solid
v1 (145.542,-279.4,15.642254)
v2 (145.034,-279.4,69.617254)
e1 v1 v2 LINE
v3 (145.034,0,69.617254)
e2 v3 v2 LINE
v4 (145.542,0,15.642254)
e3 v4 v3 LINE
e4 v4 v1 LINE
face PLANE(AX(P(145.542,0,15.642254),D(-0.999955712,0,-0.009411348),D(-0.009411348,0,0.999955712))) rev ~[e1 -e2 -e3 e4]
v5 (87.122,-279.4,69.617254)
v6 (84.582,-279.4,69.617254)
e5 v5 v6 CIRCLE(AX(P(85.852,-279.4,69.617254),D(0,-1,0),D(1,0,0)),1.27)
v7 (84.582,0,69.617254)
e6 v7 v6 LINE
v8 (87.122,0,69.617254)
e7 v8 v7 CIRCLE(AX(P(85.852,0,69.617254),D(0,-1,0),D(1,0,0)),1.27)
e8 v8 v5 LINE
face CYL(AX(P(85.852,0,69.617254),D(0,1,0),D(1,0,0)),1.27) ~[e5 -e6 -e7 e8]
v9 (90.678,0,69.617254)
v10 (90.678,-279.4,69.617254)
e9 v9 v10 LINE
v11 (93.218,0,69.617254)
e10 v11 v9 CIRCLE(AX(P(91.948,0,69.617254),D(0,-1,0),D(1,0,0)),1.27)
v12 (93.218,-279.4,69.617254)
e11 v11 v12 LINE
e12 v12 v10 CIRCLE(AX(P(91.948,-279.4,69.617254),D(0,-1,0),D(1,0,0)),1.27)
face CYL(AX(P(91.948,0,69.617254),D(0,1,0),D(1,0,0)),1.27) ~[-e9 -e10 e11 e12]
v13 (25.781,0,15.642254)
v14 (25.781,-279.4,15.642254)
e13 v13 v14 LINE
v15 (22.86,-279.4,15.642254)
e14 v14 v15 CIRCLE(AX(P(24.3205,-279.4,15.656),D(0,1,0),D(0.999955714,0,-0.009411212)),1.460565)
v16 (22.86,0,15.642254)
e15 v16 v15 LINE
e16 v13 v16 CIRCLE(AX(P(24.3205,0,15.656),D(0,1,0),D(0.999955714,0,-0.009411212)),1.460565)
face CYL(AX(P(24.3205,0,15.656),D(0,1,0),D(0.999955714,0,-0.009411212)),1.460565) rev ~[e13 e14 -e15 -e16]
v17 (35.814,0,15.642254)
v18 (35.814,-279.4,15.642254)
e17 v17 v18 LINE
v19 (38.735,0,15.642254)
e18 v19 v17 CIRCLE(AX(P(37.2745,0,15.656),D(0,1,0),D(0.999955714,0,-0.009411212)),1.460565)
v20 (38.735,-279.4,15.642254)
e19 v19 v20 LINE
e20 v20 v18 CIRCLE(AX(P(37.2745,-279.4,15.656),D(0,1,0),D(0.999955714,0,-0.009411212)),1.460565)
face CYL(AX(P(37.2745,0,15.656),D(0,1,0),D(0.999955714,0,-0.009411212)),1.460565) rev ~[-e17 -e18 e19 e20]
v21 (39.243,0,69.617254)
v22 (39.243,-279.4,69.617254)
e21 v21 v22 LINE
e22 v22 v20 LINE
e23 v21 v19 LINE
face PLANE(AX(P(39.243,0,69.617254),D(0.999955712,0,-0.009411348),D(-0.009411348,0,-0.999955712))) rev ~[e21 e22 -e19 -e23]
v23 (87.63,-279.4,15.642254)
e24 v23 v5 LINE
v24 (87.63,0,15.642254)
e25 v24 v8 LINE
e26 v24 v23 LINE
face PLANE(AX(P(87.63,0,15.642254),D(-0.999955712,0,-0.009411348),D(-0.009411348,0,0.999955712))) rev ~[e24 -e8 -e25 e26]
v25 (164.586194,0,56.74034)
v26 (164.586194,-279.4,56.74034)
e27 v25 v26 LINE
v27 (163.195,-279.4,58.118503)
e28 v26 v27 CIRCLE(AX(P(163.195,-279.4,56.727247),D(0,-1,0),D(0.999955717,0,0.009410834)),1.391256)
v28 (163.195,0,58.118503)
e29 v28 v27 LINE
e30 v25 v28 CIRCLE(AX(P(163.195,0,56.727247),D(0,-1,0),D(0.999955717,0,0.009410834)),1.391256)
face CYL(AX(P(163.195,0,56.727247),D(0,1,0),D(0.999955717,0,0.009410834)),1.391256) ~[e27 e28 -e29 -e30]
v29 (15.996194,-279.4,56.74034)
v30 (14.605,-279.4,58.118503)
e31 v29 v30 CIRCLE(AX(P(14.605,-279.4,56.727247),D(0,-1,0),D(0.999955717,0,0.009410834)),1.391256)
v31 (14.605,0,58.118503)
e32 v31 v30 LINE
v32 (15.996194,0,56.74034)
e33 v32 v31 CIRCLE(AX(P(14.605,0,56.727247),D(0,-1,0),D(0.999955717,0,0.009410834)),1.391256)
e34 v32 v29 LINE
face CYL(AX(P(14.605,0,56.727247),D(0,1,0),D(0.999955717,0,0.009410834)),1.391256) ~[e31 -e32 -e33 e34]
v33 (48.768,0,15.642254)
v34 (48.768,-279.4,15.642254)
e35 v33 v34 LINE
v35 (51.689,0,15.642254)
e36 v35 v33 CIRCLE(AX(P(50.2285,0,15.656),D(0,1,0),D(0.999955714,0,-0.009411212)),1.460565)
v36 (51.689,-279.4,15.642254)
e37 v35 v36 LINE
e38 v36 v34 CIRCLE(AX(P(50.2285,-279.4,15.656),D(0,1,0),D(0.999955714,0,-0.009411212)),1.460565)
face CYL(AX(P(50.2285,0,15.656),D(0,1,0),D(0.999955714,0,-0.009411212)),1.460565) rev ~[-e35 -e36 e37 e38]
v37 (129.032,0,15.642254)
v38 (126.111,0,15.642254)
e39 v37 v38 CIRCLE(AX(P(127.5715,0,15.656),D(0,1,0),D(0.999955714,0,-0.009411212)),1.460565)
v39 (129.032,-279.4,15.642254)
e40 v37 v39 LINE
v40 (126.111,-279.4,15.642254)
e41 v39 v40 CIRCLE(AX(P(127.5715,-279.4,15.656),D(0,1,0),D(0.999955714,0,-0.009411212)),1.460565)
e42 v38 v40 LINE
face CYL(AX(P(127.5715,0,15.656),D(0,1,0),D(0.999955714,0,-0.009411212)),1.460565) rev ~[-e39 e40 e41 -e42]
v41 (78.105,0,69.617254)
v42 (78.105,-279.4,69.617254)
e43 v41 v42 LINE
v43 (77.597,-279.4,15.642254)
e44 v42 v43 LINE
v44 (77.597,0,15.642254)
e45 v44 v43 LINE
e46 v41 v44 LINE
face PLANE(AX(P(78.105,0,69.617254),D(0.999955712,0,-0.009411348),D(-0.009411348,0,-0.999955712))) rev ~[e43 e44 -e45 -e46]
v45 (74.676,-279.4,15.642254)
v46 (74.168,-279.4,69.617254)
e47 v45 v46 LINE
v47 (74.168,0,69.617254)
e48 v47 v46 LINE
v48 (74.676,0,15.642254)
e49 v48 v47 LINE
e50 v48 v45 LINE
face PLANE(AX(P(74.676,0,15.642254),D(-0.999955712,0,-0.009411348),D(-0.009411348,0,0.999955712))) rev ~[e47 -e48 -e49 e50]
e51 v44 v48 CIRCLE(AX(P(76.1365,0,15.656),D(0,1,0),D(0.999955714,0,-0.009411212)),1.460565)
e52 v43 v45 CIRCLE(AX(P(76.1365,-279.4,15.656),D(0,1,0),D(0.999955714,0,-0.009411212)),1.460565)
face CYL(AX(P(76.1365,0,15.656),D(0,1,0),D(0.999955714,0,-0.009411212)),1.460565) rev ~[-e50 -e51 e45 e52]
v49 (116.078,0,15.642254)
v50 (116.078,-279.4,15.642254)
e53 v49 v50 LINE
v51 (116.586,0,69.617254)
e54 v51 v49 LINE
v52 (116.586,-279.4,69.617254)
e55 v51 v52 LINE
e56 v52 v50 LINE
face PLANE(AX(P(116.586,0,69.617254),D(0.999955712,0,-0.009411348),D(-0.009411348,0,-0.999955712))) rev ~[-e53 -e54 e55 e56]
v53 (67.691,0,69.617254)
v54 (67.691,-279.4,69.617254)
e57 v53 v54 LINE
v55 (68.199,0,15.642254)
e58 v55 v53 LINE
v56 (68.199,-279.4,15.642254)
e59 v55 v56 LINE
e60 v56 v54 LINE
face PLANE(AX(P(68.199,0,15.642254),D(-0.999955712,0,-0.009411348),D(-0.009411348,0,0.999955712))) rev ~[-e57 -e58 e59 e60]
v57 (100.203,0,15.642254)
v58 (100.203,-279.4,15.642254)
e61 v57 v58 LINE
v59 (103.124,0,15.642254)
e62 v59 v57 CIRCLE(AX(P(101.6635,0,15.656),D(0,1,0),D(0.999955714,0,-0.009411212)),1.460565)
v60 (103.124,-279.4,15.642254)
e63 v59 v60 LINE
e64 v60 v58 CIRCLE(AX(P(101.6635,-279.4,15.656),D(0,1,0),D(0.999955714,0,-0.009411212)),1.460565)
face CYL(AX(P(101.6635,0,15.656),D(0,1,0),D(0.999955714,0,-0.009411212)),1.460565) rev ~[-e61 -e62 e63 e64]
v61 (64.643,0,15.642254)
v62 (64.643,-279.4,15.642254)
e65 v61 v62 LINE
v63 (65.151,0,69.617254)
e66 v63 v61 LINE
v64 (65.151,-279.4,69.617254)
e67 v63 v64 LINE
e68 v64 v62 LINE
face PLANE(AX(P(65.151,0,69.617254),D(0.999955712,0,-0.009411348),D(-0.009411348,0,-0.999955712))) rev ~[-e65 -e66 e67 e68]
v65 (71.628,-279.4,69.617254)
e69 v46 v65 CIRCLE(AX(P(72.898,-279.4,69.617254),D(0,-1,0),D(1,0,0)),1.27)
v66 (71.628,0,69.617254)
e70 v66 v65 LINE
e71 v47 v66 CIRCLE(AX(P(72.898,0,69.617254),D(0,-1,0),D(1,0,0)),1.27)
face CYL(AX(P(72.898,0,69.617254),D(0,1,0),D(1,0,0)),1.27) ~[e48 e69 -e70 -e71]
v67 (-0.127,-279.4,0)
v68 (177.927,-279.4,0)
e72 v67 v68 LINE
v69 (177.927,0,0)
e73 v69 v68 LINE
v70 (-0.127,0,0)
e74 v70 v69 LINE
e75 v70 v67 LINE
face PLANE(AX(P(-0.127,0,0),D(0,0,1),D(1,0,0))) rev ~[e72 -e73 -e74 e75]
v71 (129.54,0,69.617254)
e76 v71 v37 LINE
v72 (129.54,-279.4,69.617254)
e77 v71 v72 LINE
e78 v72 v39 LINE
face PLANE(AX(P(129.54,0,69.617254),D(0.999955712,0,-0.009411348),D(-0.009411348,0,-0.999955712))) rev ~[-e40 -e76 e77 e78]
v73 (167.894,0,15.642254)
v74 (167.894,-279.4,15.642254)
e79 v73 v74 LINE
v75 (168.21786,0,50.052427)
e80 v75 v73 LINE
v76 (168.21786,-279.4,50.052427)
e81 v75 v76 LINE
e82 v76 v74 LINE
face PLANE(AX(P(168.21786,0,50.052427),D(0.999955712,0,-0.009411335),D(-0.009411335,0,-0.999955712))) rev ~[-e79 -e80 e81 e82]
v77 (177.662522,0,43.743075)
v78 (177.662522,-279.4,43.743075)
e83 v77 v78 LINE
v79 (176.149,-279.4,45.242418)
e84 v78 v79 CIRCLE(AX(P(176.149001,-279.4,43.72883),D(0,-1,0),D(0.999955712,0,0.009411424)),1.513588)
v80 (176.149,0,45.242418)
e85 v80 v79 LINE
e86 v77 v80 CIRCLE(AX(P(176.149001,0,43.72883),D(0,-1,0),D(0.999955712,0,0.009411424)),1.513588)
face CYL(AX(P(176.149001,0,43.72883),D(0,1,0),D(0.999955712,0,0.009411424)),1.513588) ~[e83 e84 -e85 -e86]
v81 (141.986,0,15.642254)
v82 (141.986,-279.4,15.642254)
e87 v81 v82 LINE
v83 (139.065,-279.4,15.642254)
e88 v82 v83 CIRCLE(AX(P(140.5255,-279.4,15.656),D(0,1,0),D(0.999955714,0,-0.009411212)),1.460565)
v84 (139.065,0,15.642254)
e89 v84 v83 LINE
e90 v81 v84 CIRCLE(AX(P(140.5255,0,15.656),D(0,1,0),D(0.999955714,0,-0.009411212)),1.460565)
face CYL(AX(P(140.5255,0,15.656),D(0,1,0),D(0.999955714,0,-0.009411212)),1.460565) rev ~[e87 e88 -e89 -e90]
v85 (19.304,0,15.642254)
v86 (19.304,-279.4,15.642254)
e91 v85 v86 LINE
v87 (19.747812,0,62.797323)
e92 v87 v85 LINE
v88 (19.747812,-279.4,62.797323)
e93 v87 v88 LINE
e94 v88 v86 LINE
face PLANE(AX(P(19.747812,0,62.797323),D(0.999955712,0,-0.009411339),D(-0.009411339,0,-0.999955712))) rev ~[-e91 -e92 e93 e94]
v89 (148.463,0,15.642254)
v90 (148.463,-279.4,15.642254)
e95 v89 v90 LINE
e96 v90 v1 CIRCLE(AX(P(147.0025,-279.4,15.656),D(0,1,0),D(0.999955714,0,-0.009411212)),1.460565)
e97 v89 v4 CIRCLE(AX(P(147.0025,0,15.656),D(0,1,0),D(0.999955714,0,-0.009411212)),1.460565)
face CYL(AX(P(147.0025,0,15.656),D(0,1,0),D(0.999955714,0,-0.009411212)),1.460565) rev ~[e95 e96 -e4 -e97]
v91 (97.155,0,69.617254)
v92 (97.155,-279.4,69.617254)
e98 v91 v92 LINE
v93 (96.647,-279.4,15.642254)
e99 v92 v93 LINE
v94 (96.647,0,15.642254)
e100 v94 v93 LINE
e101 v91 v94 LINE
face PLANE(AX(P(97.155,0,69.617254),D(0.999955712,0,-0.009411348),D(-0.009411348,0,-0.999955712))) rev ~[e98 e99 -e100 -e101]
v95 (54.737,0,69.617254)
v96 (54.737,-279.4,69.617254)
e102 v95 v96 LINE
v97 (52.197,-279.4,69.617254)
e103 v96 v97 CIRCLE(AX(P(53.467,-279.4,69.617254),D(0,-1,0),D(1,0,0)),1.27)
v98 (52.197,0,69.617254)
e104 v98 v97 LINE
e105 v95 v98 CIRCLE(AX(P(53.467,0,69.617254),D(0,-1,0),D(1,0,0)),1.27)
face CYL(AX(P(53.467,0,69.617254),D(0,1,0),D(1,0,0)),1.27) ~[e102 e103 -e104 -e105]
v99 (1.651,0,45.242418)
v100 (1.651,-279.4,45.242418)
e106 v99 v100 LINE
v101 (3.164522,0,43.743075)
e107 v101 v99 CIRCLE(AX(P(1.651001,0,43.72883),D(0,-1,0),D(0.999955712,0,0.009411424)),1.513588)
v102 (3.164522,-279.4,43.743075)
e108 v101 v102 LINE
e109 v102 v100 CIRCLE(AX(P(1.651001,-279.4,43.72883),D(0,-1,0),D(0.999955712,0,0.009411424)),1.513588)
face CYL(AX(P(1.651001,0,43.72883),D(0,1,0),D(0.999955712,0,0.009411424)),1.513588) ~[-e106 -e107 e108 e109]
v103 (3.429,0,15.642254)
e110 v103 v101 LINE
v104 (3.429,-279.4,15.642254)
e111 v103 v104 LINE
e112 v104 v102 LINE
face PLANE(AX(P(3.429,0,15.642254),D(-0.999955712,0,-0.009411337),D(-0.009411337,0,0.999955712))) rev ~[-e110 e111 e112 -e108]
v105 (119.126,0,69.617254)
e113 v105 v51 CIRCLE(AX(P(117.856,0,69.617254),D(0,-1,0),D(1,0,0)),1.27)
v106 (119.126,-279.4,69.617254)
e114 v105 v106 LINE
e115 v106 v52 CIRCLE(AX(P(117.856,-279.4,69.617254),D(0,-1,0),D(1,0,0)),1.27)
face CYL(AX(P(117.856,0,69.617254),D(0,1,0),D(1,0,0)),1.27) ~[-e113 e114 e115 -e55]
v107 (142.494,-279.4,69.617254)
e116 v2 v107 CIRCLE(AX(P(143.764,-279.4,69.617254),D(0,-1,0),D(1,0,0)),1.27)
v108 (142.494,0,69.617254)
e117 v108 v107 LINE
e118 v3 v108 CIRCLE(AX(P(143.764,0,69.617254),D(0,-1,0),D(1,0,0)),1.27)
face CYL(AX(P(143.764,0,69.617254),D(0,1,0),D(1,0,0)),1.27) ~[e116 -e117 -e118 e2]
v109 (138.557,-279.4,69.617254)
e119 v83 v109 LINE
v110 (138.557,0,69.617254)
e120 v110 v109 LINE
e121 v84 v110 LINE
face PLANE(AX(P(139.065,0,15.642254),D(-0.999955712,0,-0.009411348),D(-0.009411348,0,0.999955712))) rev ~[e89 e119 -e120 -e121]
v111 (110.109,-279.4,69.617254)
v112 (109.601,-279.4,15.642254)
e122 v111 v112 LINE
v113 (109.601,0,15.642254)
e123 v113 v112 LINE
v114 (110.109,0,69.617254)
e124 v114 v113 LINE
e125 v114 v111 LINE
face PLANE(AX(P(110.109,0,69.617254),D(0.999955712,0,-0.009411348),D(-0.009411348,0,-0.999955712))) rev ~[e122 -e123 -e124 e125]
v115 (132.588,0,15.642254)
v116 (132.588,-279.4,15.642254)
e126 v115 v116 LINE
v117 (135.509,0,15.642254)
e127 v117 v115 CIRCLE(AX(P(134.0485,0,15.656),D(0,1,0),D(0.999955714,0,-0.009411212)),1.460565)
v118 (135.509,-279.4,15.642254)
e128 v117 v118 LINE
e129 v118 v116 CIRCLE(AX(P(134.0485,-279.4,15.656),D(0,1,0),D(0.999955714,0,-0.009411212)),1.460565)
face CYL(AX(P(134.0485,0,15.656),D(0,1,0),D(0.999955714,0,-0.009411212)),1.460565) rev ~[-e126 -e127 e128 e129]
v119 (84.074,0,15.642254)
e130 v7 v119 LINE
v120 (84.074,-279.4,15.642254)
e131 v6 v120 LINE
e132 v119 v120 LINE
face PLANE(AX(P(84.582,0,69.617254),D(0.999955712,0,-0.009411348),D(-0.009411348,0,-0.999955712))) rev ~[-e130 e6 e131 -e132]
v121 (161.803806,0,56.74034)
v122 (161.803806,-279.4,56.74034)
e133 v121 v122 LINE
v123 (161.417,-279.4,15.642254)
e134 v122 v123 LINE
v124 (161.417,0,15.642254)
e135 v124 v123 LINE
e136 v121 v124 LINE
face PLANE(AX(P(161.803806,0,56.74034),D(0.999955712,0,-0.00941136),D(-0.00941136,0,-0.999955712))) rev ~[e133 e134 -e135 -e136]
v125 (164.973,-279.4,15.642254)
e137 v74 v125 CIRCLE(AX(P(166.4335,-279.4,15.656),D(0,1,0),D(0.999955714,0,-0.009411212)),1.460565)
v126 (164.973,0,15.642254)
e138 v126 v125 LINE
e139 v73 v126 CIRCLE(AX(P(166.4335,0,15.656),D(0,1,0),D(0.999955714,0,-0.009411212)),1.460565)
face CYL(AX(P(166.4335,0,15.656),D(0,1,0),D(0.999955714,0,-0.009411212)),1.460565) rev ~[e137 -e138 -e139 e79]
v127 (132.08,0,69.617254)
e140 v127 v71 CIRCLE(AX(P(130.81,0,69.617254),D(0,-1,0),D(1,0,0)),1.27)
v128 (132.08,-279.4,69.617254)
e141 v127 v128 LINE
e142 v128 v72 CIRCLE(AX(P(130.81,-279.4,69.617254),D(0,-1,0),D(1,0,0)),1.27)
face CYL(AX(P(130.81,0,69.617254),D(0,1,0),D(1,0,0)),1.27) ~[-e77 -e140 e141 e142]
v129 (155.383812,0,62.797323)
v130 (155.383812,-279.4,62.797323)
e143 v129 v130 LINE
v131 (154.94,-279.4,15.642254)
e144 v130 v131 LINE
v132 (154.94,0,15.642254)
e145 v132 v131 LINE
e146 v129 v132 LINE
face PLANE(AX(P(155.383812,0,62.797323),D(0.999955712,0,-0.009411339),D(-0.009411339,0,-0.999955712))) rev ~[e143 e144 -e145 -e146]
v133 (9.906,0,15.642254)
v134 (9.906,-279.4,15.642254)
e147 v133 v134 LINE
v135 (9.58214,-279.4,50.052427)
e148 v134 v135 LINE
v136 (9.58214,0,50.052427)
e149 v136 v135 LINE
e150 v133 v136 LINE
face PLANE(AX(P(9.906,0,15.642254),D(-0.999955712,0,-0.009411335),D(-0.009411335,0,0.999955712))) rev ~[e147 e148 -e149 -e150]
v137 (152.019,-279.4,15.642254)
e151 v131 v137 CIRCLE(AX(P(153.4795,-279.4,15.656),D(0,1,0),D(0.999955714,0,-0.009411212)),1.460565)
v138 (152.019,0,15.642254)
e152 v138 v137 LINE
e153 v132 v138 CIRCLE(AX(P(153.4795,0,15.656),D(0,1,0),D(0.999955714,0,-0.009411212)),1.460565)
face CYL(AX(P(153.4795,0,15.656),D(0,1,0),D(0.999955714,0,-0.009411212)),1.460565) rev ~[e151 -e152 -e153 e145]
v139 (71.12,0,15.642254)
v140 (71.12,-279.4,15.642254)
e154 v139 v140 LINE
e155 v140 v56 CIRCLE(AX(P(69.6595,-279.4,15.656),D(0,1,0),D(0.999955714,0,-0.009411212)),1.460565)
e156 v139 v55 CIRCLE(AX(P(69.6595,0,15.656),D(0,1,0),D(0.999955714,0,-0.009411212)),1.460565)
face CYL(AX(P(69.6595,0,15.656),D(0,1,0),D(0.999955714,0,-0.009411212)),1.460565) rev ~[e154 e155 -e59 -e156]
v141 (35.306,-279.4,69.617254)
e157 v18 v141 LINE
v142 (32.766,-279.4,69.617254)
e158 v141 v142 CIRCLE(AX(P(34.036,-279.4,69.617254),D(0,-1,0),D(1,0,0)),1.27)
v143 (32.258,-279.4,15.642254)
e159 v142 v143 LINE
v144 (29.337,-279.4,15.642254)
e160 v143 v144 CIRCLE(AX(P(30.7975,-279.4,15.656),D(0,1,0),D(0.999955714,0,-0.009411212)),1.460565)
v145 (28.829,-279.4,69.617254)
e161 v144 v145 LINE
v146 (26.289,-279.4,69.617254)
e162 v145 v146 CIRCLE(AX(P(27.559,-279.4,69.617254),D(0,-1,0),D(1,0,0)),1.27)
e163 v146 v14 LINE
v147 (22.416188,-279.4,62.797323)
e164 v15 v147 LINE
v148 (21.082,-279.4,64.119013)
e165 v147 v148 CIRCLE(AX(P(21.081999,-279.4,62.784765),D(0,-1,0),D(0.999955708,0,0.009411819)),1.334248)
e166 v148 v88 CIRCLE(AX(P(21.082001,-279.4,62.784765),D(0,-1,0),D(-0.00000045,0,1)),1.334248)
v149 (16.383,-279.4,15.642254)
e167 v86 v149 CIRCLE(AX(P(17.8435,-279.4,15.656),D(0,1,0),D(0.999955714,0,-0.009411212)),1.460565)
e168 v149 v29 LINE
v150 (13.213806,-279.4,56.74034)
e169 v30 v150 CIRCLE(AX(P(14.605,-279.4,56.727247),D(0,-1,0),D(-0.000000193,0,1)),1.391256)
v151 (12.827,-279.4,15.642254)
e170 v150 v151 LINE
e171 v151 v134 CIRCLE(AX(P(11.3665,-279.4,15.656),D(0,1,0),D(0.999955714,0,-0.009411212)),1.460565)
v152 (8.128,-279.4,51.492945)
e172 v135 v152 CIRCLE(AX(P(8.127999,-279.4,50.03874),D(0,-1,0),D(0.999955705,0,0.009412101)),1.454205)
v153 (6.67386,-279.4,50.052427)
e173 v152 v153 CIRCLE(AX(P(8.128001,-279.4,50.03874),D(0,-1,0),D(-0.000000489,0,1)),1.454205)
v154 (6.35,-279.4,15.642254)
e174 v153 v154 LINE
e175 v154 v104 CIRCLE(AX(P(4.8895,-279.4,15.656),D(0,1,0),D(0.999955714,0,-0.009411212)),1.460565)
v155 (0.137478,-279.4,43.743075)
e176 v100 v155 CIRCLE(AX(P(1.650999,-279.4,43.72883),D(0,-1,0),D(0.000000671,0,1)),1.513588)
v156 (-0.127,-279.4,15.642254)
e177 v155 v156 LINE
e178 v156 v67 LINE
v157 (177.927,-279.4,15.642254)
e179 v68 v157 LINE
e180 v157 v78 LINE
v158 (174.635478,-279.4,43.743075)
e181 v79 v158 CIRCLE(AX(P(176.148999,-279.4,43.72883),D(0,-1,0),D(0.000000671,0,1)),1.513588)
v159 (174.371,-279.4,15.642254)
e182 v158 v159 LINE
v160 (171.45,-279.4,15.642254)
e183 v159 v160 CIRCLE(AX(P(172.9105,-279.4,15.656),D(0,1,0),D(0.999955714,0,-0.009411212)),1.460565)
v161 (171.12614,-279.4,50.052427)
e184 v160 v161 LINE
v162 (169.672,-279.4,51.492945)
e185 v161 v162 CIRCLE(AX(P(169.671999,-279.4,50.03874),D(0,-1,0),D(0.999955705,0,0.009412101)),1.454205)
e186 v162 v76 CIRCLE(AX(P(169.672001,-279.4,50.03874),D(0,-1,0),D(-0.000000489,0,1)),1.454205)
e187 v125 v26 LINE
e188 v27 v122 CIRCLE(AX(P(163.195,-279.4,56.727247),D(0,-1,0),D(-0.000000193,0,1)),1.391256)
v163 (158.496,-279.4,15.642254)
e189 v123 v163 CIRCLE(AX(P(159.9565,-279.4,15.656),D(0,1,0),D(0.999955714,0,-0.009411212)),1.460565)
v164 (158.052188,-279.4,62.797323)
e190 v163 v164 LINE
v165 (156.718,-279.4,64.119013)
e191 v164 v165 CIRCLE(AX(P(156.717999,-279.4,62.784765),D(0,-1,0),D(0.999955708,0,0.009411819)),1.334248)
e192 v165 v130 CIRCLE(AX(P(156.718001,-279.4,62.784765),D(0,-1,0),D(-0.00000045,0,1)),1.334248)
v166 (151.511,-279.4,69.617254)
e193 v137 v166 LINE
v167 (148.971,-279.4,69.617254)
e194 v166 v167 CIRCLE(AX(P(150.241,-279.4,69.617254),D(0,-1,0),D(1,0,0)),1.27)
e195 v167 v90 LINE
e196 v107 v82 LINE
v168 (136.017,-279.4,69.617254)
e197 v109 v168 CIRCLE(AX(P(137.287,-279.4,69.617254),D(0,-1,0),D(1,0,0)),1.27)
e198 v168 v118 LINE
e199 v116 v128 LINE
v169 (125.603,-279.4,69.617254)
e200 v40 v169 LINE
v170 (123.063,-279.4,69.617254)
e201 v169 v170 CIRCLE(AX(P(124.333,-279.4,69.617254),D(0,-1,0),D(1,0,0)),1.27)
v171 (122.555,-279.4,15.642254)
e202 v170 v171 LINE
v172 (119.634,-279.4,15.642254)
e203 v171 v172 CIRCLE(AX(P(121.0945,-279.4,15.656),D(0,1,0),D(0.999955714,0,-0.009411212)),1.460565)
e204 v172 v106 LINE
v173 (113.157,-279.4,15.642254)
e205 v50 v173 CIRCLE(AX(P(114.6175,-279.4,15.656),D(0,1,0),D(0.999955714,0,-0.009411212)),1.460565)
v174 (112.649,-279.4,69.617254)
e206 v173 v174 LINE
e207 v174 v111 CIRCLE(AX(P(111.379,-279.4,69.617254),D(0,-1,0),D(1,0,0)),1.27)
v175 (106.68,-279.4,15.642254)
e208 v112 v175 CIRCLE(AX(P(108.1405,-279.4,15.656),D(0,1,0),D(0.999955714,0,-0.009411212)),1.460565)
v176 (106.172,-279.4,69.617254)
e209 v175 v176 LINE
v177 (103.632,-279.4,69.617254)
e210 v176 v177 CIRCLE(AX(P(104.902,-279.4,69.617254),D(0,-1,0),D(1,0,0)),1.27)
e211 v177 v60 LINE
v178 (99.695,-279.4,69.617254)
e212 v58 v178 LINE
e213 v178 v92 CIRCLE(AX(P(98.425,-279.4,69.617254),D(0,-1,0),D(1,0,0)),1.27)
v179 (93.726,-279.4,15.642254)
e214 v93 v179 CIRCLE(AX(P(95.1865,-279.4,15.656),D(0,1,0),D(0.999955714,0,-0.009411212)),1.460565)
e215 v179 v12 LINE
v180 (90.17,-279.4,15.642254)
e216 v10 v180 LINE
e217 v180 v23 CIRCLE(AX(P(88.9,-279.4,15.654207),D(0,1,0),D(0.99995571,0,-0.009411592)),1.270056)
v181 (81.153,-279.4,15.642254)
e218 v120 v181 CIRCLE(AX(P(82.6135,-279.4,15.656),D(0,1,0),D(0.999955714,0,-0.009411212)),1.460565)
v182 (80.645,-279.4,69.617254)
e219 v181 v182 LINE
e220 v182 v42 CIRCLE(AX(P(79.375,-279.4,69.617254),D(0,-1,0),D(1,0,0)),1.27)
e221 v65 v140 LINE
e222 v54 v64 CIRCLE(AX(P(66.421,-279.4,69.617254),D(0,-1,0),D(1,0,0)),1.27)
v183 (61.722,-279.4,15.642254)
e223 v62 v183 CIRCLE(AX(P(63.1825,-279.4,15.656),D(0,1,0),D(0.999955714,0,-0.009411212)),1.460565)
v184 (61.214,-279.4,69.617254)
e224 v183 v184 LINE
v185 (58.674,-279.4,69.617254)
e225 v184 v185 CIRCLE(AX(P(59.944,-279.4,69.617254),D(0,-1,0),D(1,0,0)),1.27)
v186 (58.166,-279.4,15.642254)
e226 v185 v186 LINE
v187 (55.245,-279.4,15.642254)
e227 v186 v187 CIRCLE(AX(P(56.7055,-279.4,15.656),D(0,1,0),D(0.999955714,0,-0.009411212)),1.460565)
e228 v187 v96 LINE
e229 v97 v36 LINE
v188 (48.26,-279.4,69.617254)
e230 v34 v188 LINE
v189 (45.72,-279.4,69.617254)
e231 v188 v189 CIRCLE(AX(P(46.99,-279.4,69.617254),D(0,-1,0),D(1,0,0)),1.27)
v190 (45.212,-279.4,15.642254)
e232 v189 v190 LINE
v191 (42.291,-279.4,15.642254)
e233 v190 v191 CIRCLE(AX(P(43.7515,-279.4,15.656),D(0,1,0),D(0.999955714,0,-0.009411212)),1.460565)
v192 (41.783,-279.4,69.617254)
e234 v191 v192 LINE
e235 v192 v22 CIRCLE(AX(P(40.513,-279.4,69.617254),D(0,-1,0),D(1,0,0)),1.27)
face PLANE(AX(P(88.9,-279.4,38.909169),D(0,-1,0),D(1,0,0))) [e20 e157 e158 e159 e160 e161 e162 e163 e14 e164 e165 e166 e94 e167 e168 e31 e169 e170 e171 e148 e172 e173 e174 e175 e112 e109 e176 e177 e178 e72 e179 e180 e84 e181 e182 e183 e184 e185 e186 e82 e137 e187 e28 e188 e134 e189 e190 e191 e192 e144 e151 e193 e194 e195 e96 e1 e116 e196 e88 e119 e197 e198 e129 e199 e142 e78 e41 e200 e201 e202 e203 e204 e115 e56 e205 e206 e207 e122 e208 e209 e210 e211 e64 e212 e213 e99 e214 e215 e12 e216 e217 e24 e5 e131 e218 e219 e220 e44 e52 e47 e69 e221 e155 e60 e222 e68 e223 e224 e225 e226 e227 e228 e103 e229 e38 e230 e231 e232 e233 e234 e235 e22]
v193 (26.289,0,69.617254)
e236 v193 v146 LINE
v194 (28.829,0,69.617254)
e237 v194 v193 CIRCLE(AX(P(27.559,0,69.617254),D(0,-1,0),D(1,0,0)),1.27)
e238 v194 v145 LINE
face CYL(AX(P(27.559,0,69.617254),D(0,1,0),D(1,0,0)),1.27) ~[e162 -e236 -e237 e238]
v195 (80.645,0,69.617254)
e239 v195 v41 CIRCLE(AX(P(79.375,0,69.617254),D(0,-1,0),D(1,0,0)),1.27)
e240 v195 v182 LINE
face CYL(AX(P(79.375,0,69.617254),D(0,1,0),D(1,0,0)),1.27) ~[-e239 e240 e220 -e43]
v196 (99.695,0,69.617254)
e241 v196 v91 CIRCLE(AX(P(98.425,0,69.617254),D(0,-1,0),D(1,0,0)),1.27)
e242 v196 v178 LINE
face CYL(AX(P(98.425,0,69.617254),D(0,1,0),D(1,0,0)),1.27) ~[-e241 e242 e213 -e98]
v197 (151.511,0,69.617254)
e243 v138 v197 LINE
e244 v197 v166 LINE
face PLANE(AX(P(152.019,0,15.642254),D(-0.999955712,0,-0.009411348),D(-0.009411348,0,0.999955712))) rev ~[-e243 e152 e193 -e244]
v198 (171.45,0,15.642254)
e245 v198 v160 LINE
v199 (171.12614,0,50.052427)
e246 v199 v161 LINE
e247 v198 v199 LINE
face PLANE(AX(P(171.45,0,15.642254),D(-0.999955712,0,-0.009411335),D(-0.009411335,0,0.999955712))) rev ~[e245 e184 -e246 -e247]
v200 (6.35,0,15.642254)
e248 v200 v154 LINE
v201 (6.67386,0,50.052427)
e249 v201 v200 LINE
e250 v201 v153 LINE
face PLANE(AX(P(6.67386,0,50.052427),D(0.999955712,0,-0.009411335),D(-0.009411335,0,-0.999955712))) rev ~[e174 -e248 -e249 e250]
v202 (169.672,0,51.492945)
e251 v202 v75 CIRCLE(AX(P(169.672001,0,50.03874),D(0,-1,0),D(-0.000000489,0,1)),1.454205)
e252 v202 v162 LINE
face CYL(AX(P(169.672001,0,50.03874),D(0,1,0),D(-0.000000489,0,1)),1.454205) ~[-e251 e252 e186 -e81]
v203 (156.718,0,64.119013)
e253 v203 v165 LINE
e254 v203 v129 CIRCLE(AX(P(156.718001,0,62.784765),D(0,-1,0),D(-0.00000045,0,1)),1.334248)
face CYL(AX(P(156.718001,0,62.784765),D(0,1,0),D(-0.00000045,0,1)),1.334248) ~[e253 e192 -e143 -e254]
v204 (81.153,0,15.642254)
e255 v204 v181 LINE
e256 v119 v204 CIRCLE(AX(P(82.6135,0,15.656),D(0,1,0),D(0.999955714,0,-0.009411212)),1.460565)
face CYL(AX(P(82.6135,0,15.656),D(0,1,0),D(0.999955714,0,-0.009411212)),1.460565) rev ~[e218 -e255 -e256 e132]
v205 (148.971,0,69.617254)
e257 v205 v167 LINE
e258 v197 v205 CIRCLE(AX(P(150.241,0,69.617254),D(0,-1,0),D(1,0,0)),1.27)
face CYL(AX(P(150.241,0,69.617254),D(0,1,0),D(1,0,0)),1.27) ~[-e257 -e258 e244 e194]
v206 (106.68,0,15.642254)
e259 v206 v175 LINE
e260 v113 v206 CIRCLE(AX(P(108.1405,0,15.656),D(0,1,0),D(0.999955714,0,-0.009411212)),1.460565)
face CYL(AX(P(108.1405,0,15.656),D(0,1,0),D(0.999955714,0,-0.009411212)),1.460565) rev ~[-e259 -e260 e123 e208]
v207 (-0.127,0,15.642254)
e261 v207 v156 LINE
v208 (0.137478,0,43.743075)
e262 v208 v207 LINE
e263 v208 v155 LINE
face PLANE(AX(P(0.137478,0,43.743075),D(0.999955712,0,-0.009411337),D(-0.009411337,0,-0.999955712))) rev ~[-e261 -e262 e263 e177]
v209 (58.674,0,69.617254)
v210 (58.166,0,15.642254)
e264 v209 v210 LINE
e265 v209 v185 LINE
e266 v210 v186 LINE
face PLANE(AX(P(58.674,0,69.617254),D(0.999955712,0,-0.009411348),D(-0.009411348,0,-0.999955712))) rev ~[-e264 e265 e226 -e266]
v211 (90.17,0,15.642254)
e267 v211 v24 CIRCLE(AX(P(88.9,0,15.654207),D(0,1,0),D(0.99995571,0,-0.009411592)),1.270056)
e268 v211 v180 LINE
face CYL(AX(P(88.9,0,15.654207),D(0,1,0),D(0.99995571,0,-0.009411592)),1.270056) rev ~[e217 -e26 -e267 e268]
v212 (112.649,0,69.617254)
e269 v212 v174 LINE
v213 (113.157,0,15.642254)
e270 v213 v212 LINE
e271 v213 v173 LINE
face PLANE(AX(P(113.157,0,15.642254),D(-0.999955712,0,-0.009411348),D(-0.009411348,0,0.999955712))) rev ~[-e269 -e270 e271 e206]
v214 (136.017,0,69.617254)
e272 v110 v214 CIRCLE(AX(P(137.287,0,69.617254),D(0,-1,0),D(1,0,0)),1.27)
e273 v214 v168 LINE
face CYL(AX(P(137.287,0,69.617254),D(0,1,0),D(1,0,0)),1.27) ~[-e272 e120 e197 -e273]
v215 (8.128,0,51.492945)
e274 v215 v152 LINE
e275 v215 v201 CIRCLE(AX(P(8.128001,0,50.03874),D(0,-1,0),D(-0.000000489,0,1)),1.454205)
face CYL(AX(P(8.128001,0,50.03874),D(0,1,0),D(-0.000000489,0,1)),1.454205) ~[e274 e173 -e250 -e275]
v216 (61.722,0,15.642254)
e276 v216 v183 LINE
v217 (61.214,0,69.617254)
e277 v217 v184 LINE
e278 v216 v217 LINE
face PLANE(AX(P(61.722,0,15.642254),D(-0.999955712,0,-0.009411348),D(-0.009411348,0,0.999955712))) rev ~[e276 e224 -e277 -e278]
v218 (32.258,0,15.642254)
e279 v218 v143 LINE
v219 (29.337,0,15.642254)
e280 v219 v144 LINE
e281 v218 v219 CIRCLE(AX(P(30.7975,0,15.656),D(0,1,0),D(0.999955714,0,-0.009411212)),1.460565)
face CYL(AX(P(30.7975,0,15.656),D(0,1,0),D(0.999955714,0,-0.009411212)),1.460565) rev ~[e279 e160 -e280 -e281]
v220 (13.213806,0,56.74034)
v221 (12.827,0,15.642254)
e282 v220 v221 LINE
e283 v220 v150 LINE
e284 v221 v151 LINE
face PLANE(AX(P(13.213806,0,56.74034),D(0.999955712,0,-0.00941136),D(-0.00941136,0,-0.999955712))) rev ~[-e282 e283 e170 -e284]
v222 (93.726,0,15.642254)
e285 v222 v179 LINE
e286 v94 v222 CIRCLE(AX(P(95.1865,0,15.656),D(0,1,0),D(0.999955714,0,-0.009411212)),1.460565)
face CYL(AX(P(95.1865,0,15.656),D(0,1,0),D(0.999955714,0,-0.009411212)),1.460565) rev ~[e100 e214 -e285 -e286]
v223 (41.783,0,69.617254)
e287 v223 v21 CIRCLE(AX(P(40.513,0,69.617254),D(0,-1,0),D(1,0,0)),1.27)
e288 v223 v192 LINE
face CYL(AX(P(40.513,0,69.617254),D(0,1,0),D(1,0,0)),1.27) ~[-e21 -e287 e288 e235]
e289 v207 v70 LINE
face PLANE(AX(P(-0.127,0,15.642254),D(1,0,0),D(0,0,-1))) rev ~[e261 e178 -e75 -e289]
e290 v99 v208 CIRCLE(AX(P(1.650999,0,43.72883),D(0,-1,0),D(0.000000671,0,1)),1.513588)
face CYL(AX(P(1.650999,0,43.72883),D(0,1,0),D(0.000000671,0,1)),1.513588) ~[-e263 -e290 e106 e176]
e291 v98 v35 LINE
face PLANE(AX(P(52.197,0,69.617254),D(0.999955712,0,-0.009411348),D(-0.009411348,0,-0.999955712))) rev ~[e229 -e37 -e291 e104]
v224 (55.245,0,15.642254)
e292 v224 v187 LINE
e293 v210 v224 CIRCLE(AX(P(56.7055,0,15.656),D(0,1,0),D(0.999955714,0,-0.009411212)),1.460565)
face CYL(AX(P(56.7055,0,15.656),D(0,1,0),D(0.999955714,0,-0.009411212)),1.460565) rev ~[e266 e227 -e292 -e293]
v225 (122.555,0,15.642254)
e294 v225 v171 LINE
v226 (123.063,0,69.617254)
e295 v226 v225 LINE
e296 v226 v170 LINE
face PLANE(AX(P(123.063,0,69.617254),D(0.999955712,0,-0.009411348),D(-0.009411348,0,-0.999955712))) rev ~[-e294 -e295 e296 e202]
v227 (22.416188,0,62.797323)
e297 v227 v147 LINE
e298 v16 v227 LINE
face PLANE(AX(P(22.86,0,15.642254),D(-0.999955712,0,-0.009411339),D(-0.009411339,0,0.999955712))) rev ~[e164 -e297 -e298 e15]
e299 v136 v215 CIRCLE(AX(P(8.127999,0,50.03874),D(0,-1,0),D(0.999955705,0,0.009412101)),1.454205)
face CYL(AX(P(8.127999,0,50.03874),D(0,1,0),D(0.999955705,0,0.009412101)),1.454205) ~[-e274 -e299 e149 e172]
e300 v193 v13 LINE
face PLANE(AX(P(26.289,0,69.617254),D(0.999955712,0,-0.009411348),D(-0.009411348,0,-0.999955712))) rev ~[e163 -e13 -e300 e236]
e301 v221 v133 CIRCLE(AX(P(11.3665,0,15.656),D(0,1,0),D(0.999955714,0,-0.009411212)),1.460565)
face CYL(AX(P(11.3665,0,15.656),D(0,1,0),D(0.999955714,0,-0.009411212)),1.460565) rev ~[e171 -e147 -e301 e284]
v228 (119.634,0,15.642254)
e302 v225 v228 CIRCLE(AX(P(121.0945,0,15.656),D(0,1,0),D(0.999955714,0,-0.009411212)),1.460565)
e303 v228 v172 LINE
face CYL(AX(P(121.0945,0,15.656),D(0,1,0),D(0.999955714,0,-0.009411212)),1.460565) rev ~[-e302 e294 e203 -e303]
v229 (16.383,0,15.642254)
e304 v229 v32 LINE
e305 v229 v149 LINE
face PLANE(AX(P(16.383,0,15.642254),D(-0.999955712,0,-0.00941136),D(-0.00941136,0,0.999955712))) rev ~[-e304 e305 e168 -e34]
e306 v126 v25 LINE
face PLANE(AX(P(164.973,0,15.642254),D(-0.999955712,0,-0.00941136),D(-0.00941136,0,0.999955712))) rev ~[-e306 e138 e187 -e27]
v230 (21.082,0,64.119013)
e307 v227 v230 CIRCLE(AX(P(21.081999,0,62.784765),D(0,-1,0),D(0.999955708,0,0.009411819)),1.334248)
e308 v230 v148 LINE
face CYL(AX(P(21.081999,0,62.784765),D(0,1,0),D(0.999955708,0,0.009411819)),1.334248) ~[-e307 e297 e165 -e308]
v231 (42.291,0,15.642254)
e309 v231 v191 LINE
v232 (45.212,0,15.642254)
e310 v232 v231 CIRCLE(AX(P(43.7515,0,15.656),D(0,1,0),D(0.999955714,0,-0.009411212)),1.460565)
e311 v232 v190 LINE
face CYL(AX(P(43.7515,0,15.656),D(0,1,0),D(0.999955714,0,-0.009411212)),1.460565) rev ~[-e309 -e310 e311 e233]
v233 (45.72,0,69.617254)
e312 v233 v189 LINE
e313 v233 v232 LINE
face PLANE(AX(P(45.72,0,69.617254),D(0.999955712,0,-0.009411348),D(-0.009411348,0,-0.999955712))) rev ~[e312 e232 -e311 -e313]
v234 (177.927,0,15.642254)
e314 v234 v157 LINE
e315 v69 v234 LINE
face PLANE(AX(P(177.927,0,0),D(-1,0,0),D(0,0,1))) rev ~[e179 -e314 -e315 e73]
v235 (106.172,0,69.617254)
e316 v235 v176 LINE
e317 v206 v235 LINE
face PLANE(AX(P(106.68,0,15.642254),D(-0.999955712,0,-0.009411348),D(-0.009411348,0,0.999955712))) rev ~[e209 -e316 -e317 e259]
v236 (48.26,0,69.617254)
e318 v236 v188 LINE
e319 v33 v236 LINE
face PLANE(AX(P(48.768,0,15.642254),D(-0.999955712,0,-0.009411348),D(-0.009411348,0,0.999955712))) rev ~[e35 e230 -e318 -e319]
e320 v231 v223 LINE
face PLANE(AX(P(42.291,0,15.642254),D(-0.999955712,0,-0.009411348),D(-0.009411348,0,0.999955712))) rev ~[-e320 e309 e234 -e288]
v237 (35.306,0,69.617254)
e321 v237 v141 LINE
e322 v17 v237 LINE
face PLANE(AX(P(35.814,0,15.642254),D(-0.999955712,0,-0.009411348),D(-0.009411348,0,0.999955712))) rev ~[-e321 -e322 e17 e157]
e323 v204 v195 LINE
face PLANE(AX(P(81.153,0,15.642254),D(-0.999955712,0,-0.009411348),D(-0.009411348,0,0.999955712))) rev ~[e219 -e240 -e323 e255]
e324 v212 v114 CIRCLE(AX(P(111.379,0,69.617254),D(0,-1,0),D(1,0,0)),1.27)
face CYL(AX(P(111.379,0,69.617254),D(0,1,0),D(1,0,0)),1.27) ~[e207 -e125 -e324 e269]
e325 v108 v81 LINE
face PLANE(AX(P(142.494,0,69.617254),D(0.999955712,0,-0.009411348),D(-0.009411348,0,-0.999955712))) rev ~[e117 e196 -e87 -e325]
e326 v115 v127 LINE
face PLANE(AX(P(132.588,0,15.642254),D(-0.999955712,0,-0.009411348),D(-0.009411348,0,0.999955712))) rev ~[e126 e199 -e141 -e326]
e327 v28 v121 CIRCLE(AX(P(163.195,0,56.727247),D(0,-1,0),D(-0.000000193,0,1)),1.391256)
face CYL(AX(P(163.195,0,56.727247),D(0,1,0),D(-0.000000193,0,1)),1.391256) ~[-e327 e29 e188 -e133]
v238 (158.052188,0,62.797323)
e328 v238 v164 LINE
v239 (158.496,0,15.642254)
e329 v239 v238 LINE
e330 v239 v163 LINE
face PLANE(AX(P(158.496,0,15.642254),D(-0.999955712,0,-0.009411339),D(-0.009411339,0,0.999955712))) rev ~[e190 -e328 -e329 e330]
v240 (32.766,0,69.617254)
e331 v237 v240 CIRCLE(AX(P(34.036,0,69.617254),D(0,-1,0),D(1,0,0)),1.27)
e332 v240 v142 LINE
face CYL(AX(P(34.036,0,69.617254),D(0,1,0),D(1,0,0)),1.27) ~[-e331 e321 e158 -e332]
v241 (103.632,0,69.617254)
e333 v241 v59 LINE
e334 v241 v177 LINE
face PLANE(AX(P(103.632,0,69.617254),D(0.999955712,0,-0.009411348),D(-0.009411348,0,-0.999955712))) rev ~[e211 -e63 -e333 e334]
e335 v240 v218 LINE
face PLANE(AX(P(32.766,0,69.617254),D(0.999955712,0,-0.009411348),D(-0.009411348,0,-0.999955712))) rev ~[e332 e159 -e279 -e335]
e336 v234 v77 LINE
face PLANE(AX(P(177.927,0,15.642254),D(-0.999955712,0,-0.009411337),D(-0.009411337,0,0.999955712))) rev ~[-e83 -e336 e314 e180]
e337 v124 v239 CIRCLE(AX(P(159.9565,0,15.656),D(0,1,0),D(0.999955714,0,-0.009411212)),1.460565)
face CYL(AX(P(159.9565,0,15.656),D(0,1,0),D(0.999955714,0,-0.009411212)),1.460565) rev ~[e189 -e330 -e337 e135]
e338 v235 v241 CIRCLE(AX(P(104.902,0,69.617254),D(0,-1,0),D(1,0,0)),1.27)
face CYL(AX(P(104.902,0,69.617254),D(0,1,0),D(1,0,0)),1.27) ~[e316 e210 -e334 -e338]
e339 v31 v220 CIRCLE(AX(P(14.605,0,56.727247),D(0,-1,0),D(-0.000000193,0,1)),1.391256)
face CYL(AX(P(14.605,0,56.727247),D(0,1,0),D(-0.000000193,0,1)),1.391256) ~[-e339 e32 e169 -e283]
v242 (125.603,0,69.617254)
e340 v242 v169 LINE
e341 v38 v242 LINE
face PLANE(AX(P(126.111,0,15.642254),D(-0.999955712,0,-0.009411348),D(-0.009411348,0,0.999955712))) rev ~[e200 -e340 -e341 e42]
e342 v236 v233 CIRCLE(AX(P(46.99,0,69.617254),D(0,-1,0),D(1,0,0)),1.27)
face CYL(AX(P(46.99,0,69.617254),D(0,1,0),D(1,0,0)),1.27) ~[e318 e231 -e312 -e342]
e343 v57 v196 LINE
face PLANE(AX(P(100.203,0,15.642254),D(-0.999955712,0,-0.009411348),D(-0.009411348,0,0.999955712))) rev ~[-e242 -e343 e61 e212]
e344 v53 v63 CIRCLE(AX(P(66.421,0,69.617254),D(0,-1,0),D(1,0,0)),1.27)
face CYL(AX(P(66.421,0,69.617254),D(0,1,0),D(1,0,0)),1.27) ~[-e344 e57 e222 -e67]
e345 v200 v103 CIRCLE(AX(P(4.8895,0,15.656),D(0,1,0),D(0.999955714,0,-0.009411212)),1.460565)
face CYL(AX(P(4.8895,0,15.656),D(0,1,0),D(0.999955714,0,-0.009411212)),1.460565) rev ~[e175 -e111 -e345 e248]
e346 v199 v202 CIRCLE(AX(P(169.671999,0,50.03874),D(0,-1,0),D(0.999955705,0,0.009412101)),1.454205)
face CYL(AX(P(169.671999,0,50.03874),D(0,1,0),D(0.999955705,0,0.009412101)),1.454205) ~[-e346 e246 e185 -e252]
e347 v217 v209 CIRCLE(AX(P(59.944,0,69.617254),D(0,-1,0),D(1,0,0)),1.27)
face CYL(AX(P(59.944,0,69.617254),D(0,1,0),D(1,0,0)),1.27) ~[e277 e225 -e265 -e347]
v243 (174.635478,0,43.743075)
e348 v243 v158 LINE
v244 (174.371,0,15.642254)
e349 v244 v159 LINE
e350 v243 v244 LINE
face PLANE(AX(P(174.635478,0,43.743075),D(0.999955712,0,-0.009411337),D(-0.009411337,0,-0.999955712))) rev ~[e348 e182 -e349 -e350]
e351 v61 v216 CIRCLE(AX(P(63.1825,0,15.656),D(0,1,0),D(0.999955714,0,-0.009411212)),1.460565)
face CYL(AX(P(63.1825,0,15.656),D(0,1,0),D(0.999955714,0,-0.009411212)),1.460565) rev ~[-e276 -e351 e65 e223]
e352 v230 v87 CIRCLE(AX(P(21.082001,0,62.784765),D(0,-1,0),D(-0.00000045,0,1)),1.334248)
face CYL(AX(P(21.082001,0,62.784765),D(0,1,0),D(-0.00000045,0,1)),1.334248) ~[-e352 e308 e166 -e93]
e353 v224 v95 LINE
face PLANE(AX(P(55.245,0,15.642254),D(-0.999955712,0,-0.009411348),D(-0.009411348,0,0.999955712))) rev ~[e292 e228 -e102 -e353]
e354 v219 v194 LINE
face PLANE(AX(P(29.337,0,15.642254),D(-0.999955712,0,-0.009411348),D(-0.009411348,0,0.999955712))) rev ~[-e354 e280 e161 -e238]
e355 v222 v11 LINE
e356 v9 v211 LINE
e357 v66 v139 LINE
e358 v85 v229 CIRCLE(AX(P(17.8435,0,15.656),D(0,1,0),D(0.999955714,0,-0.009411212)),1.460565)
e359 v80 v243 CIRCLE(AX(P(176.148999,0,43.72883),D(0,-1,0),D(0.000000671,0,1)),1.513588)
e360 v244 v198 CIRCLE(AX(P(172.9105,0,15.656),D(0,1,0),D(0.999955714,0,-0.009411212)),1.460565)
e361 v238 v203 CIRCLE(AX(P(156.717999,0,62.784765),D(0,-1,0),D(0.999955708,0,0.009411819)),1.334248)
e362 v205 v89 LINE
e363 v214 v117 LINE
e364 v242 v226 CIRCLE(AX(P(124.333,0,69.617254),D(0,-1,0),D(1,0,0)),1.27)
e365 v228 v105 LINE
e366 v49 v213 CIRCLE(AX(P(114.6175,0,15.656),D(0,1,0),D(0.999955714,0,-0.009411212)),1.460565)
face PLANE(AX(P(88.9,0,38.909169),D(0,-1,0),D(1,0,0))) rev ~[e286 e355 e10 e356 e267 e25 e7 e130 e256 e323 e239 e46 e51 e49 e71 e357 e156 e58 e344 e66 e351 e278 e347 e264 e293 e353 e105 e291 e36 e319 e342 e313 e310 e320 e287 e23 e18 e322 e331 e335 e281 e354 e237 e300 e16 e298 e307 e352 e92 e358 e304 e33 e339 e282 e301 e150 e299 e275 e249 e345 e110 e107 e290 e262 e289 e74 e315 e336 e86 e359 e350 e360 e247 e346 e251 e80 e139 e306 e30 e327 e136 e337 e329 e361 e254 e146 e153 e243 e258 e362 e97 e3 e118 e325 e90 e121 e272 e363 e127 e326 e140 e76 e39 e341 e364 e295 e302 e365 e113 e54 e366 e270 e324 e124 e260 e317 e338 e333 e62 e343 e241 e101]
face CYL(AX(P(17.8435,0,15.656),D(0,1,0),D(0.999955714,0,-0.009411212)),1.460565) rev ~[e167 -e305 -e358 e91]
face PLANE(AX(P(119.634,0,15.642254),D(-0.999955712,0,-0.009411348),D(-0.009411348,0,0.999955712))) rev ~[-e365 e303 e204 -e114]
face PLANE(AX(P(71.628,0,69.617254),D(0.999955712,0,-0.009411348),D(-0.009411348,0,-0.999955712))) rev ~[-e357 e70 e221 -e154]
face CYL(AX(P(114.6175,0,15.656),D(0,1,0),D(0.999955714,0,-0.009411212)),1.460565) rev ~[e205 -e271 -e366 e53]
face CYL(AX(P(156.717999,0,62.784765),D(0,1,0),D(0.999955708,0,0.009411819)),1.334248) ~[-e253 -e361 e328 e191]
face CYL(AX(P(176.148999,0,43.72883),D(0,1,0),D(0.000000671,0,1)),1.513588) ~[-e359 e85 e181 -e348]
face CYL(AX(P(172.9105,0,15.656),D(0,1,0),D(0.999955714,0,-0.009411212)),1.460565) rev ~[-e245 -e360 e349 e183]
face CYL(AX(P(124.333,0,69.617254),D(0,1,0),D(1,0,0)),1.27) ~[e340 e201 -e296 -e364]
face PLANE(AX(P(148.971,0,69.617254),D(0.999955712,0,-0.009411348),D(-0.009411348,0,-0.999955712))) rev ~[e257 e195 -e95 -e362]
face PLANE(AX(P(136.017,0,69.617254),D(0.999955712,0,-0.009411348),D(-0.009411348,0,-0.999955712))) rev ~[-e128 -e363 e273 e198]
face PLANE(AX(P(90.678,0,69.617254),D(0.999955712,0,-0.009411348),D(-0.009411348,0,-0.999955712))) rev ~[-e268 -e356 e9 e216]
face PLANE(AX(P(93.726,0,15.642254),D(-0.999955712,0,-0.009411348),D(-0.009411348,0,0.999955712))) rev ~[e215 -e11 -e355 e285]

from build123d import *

# Parameters (mm, degrees)
F2_DEPTH = 279.4


with BuildPart() as f2:
    # F1 (on Front) → F2 (new body)
    with BuildSketch(Plane.XZ):
        with BuildLine():
            Line((-0.127, 13.335), (88.9, 13.335))
            Line((88.9, 13.335), (177.927, 13.335))
            Line((177.927, 13.335), (177.927, 13.775847))
            Line((177.927, 13.775847), (177.927, 15.642254))
            Line((177.927, 15.642254), (177.662522, 43.743075))
            ThreePointArc((177.662522, 43.743075), (177.214221, 44.804123), (176.149, 45.242418))
            ThreePointArc((176.149, 45.242418), (175.083779, 44.804123), (174.635478, 43.743075))
            Line((174.635478, 43.743075), (174.371, 15.642254))
            ThreePointArc((174.371, 15.642254), (172.9105, 14.195435), (171.45, 15.642254))
            Line((171.45, 15.642254), (171.12614, 50.052427))
            ThreePointArc((171.12614, 50.052427), (170.695427, 51.071846), (169.672, 51.492945))
            ThreePointArc((169.672, 51.492945), (168.648573, 51.071846), (168.21786, 50.052427))
            Line((168.21786, 50.052427), (167.894, 15.642254))
            ThreePointArc((167.894, 15.642254), (166.4335, 14.195435), (164.973, 15.642254))
            Line((164.973, 15.642254), (164.586194, 56.74034))
            ThreePointArc((164.586194, 56.74034), (164.174126, 57.715632), (163.195, 58.118503))
            ThreePointArc((163.195, 58.118503), (162.215874, 57.715632), (161.803806, 56.74034))
            Line((161.803806, 56.74034), (161.417, 15.642254))
            ThreePointArc((161.417, 15.642254), (159.9565, 14.195435), (158.496, 15.642254))
            Line((158.496, 15.642254), (158.052188, 62.797323))
            ThreePointArc((158.052188, 62.797323), (157.657005, 63.73265), (156.718, 64.119013))
            ThreePointArc((156.718, 64.119013), (155.778995, 63.73265), (155.383812, 62.797323))
            Line((155.383812, 62.797323), (154.94, 15.642254))
            ThreePointArc((154.94, 15.642254), (153.4795, 14.195435), (152.019, 15.642254))
            Line((152.019, 15.642254), (151.511, 69.617254))
            ThreePointArc((151.511, 69.617254), (150.241, 70.887254), (148.971, 69.617254))
            Line((148.971, 69.617254), (148.463, 15.642254))
            ThreePointArc((148.463, 15.642254), (147.0025, 14.195435), (145.542, 15.642254))
            Line((145.542, 15.642254), (145.034, 69.617254))
            ThreePointArc((145.034, 69.617254), (143.764, 70.887254), (142.494, 69.617254))
            Line((142.494, 69.617254), (141.986, 15.642254))
            ThreePointArc((141.986, 15.642254), (140.5255, 14.195435), (139.065, 15.642254))
            Line((139.065, 15.642254), (138.557, 69.617254))
            ThreePointArc((138.557, 69.617254), (137.287, 70.887254), (136.017, 69.617254))
            Line((136.017, 69.617254), (135.509, 15.642254))
            ThreePointArc((135.509, 15.642254), (134.0485, 14.195435), (132.588, 15.642254))
            Line((132.588, 15.642254), (132.08, 69.617254))
            ThreePointArc((132.08, 69.617254), (130.81, 70.887254), (129.54, 69.617254))
            Line((129.54, 69.617254), (129.032, 15.642254))
            ThreePointArc((129.032, 15.642254), (127.5715, 14.195435), (126.111, 15.642254))
            Line((126.111, 15.642254), (125.603, 69.617254))
            ThreePointArc((125.603, 69.617254), (124.333, 70.887254), (123.063, 69.617254))
            Line((123.063, 69.617254), (122.555, 15.642254))
            ThreePointArc((122.555, 15.642254), (121.0945, 14.195435), (119.634, 15.642254))
            Line((119.634, 15.642254), (119.126, 69.617254))
            ThreePointArc((119.126, 69.617254), (117.856, 70.887254), (116.586, 69.617254))
            Line((116.586, 69.617254), (116.078, 15.642254))
            ThreePointArc((116.078, 15.642254), (114.6175, 14.195435), (113.157, 15.642254))
            Line((113.157, 15.642254), (112.649, 69.617254))
            ThreePointArc((112.649, 69.617254), (111.379, 70.887254), (110.109, 69.617254))
            Line((110.109, 69.617254), (109.601, 15.642254))
            ThreePointArc((109.601, 15.642254), (108.1405, 14.195435), (106.68, 15.642254))
            Line((106.68, 15.642254), (106.172, 69.617254))
            ThreePointArc((106.172, 69.617254), (104.902, 70.887254), (103.632, 69.617254))
            Line((103.632, 69.617254), (103.124, 15.642254))
            ThreePointArc((103.124, 15.642254), (101.6635, 14.195435), (100.203, 15.642254))
            Line((100.203, 15.642254), (99.695, 69.617254))
            ThreePointArc((99.695, 69.617254), (98.425, 70.887254), (97.155, 69.617254))
            Line((97.155, 69.617254), (96.647, 15.642254))
            ThreePointArc((96.647, 15.642254), (95.1865, 14.195435), (93.726, 15.642254))
            Line((93.726, 15.642254), (91.948, 15.642254))
            Line((91.948, 15.642254), (90.17, 15.642254))
            ThreePointArc((90.17, 15.642254), (88.9, 14.384151), (87.63, 15.642254))
            Line((87.63, 15.642254), (85.852, 15.642254))
            Line((85.852, 15.642254), (84.074, 15.642254))
            ThreePointArc((84.074, 15.642254), (82.6135, 14.195435), (81.153, 15.642254))
            Line((81.153, 15.642254), (80.645, 69.617254))
            ThreePointArc((80.645, 69.617254), (79.375, 70.887254), (78.105, 69.617254))
            Line((78.105, 69.617254), (77.597, 15.642254))
            ThreePointArc((77.597, 15.642254), (76.1365, 14.195435), (74.676, 15.642254))
            Line((74.676, 15.642254), (74.168, 69.617254))
            ThreePointArc((74.168, 69.617254), (72.898, 70.887254), (71.628, 69.617254))
            Line((71.628, 69.617254), (71.12, 15.642254))
            ThreePointArc((71.12, 15.642254), (69.6595, 14.195435), (68.199, 15.642254))
            Line((68.199, 15.642254), (67.691, 69.617254))
            ThreePointArc((67.691, 69.617254), (66.421, 70.887254), (65.151, 69.617254))
            Line((65.151, 69.617254), (64.643, 15.642254))
            ThreePointArc((64.643, 15.642254), (63.1825, 14.195435), (61.722, 15.642254))
            Line((61.722, 15.642254), (61.214, 69.617254))
            ThreePointArc((61.214, 69.617254), (59.944, 70.887254), (58.674, 69.617254))
            Line((58.674, 69.617254), (58.166, 15.642254))
            ThreePointArc((58.166, 15.642254), (56.7055, 14.195435), (55.245, 15.642254))
            Line((55.245, 15.642254), (54.737, 69.617254))
            ThreePointArc((54.737, 69.617254), (53.467, 70.887254), (52.197, 69.617254))
            Line((52.197, 69.617254), (51.689, 15.642254))
            ThreePointArc((51.689, 15.642254), (50.2285, 14.195435), (48.768, 15.642254))
            Line((48.768, 15.642254), (48.26, 69.617254))
            ThreePointArc((48.26, 69.617254), (46.99, 70.887254), (45.72, 69.617254))
            Line((45.72, 69.617254), (45.212, 15.642254))
            ThreePointArc((45.212, 15.642254), (43.7515, 14.195435), (42.291, 15.642254))
            Line((42.291, 15.642254), (41.783, 69.617254))
            ThreePointArc((41.783, 69.617254), (40.513, 70.887254), (39.243, 69.617254))
            Line((39.243, 69.617254), (38.735, 15.642254))
            ThreePointArc((38.735, 15.642254), (37.2745, 14.195435), (35.814, 15.642254))
            Line((35.814, 15.642254), (35.306, 69.617254))
            ThreePointArc((35.306, 69.617254), (34.036, 70.887254), (32.766, 69.617254))
            Line((32.766, 69.617254), (32.258, 15.642254))
            ThreePointArc((32.258, 15.642254), (30.7975, 14.195435), (29.337, 15.642254))
            Line((29.337, 15.642254), (28.829, 69.617254))
            ThreePointArc((28.829, 69.617254), (27.559, 70.887254), (26.289, 69.617254))
            Line((26.289, 69.617254), (25.781, 15.642254))
            ThreePointArc((25.781, 15.642254), (24.3205, 14.195435), (22.86, 15.642254))
            Line((22.86, 15.642254), (22.416188, 62.797323))
            ThreePointArc((22.416188, 62.797323), (22.021005, 63.73265), (21.082, 64.119013))
            ThreePointArc((21.082, 64.119013), (20.142995, 63.73265), (19.747812, 62.797323))
            Line((19.747812, 62.797323), (19.304, 15.642254))
            ThreePointArc((19.304, 15.642254), (17.8435, 14.195435), (16.383, 15.642254))
            Line((16.383, 15.642254), (15.996194, 56.74034))
            ThreePointArc((15.996194, 56.74034), (15.584126, 57.715632), (14.605, 58.118503))
            ThreePointArc((14.605, 58.118503), (13.625874, 57.715632), (13.213806, 56.74034))
            Line((13.213806, 56.74034), (12.827, 15.642254))
            ThreePointArc((12.827, 15.642254), (11.3665, 14.195435), (9.906, 15.642254))
            Line((9.906, 15.642254), (9.58214, 50.052427))
            ThreePointArc((9.58214, 50.052427), (9.151427, 51.071846), (8.128, 51.492945))
            ThreePointArc((8.128, 51.492945), (7.104573, 51.071846), (6.67386, 50.052427))
            Line((6.67386, 50.052427), (6.35, 15.642254))
            ThreePointArc((6.35, 15.642254), (4.8895, 14.195435), (3.429, 15.642254))
            Line((3.429, 15.642254), (3.164522, 43.743075))
            ThreePointArc((3.164522, 43.743075), (2.716221, 44.804123), (1.651, 45.242418))
            ThreePointArc((1.651, 45.242418), (0.585779, 44.804123), (0.137478, 43.743075))
            Line((0.137478, 43.743075), (-0.127, 15.642254))
            Line((-0.127, 15.642254), (-0.127, 13.775847))
            Line((-0.127, 13.775847), (-0.127, 13.335))
        make_face()
        Polygon((177.927, 13.335), (88.9, 13.335), (88.9, 0), (177.8, 0), (177.927, 0), align=None)
        Polygon((88.9, 0), (88.9, 13.335), (-0.127, 13.335), (-0.127, 0), (0, 0), align=None)
        with BuildLine():
            Line((91.948, 15.642254), (93.726, 15.642254))
            Line((93.726, 15.642254), (93.218, 69.617254))
            ThreePointArc((93.218, 69.617254), (91.948, 70.887254), (90.678, 69.617254))
            Line((90.678, 69.617254), (90.17, 15.642254))
            Line((90.17, 15.642254), (91.948, 15.642254))
        make_face()
        with BuildLine():
            Line((84.582, 69.617254), (84.074, 15.642254))
            Line((84.074, 15.642254), (85.852, 15.642254))
            Line((85.852, 15.642254), (87.63, 15.642254))
            Line((87.63, 15.642254), (87.122, 69.617254))
            ThreePointArc((87.122, 69.617254), (85.852, 70.887254), (84.582, 69.617254))
        make_face()
    extrude(amount=F2_DEPTH)


solid = f2.part
